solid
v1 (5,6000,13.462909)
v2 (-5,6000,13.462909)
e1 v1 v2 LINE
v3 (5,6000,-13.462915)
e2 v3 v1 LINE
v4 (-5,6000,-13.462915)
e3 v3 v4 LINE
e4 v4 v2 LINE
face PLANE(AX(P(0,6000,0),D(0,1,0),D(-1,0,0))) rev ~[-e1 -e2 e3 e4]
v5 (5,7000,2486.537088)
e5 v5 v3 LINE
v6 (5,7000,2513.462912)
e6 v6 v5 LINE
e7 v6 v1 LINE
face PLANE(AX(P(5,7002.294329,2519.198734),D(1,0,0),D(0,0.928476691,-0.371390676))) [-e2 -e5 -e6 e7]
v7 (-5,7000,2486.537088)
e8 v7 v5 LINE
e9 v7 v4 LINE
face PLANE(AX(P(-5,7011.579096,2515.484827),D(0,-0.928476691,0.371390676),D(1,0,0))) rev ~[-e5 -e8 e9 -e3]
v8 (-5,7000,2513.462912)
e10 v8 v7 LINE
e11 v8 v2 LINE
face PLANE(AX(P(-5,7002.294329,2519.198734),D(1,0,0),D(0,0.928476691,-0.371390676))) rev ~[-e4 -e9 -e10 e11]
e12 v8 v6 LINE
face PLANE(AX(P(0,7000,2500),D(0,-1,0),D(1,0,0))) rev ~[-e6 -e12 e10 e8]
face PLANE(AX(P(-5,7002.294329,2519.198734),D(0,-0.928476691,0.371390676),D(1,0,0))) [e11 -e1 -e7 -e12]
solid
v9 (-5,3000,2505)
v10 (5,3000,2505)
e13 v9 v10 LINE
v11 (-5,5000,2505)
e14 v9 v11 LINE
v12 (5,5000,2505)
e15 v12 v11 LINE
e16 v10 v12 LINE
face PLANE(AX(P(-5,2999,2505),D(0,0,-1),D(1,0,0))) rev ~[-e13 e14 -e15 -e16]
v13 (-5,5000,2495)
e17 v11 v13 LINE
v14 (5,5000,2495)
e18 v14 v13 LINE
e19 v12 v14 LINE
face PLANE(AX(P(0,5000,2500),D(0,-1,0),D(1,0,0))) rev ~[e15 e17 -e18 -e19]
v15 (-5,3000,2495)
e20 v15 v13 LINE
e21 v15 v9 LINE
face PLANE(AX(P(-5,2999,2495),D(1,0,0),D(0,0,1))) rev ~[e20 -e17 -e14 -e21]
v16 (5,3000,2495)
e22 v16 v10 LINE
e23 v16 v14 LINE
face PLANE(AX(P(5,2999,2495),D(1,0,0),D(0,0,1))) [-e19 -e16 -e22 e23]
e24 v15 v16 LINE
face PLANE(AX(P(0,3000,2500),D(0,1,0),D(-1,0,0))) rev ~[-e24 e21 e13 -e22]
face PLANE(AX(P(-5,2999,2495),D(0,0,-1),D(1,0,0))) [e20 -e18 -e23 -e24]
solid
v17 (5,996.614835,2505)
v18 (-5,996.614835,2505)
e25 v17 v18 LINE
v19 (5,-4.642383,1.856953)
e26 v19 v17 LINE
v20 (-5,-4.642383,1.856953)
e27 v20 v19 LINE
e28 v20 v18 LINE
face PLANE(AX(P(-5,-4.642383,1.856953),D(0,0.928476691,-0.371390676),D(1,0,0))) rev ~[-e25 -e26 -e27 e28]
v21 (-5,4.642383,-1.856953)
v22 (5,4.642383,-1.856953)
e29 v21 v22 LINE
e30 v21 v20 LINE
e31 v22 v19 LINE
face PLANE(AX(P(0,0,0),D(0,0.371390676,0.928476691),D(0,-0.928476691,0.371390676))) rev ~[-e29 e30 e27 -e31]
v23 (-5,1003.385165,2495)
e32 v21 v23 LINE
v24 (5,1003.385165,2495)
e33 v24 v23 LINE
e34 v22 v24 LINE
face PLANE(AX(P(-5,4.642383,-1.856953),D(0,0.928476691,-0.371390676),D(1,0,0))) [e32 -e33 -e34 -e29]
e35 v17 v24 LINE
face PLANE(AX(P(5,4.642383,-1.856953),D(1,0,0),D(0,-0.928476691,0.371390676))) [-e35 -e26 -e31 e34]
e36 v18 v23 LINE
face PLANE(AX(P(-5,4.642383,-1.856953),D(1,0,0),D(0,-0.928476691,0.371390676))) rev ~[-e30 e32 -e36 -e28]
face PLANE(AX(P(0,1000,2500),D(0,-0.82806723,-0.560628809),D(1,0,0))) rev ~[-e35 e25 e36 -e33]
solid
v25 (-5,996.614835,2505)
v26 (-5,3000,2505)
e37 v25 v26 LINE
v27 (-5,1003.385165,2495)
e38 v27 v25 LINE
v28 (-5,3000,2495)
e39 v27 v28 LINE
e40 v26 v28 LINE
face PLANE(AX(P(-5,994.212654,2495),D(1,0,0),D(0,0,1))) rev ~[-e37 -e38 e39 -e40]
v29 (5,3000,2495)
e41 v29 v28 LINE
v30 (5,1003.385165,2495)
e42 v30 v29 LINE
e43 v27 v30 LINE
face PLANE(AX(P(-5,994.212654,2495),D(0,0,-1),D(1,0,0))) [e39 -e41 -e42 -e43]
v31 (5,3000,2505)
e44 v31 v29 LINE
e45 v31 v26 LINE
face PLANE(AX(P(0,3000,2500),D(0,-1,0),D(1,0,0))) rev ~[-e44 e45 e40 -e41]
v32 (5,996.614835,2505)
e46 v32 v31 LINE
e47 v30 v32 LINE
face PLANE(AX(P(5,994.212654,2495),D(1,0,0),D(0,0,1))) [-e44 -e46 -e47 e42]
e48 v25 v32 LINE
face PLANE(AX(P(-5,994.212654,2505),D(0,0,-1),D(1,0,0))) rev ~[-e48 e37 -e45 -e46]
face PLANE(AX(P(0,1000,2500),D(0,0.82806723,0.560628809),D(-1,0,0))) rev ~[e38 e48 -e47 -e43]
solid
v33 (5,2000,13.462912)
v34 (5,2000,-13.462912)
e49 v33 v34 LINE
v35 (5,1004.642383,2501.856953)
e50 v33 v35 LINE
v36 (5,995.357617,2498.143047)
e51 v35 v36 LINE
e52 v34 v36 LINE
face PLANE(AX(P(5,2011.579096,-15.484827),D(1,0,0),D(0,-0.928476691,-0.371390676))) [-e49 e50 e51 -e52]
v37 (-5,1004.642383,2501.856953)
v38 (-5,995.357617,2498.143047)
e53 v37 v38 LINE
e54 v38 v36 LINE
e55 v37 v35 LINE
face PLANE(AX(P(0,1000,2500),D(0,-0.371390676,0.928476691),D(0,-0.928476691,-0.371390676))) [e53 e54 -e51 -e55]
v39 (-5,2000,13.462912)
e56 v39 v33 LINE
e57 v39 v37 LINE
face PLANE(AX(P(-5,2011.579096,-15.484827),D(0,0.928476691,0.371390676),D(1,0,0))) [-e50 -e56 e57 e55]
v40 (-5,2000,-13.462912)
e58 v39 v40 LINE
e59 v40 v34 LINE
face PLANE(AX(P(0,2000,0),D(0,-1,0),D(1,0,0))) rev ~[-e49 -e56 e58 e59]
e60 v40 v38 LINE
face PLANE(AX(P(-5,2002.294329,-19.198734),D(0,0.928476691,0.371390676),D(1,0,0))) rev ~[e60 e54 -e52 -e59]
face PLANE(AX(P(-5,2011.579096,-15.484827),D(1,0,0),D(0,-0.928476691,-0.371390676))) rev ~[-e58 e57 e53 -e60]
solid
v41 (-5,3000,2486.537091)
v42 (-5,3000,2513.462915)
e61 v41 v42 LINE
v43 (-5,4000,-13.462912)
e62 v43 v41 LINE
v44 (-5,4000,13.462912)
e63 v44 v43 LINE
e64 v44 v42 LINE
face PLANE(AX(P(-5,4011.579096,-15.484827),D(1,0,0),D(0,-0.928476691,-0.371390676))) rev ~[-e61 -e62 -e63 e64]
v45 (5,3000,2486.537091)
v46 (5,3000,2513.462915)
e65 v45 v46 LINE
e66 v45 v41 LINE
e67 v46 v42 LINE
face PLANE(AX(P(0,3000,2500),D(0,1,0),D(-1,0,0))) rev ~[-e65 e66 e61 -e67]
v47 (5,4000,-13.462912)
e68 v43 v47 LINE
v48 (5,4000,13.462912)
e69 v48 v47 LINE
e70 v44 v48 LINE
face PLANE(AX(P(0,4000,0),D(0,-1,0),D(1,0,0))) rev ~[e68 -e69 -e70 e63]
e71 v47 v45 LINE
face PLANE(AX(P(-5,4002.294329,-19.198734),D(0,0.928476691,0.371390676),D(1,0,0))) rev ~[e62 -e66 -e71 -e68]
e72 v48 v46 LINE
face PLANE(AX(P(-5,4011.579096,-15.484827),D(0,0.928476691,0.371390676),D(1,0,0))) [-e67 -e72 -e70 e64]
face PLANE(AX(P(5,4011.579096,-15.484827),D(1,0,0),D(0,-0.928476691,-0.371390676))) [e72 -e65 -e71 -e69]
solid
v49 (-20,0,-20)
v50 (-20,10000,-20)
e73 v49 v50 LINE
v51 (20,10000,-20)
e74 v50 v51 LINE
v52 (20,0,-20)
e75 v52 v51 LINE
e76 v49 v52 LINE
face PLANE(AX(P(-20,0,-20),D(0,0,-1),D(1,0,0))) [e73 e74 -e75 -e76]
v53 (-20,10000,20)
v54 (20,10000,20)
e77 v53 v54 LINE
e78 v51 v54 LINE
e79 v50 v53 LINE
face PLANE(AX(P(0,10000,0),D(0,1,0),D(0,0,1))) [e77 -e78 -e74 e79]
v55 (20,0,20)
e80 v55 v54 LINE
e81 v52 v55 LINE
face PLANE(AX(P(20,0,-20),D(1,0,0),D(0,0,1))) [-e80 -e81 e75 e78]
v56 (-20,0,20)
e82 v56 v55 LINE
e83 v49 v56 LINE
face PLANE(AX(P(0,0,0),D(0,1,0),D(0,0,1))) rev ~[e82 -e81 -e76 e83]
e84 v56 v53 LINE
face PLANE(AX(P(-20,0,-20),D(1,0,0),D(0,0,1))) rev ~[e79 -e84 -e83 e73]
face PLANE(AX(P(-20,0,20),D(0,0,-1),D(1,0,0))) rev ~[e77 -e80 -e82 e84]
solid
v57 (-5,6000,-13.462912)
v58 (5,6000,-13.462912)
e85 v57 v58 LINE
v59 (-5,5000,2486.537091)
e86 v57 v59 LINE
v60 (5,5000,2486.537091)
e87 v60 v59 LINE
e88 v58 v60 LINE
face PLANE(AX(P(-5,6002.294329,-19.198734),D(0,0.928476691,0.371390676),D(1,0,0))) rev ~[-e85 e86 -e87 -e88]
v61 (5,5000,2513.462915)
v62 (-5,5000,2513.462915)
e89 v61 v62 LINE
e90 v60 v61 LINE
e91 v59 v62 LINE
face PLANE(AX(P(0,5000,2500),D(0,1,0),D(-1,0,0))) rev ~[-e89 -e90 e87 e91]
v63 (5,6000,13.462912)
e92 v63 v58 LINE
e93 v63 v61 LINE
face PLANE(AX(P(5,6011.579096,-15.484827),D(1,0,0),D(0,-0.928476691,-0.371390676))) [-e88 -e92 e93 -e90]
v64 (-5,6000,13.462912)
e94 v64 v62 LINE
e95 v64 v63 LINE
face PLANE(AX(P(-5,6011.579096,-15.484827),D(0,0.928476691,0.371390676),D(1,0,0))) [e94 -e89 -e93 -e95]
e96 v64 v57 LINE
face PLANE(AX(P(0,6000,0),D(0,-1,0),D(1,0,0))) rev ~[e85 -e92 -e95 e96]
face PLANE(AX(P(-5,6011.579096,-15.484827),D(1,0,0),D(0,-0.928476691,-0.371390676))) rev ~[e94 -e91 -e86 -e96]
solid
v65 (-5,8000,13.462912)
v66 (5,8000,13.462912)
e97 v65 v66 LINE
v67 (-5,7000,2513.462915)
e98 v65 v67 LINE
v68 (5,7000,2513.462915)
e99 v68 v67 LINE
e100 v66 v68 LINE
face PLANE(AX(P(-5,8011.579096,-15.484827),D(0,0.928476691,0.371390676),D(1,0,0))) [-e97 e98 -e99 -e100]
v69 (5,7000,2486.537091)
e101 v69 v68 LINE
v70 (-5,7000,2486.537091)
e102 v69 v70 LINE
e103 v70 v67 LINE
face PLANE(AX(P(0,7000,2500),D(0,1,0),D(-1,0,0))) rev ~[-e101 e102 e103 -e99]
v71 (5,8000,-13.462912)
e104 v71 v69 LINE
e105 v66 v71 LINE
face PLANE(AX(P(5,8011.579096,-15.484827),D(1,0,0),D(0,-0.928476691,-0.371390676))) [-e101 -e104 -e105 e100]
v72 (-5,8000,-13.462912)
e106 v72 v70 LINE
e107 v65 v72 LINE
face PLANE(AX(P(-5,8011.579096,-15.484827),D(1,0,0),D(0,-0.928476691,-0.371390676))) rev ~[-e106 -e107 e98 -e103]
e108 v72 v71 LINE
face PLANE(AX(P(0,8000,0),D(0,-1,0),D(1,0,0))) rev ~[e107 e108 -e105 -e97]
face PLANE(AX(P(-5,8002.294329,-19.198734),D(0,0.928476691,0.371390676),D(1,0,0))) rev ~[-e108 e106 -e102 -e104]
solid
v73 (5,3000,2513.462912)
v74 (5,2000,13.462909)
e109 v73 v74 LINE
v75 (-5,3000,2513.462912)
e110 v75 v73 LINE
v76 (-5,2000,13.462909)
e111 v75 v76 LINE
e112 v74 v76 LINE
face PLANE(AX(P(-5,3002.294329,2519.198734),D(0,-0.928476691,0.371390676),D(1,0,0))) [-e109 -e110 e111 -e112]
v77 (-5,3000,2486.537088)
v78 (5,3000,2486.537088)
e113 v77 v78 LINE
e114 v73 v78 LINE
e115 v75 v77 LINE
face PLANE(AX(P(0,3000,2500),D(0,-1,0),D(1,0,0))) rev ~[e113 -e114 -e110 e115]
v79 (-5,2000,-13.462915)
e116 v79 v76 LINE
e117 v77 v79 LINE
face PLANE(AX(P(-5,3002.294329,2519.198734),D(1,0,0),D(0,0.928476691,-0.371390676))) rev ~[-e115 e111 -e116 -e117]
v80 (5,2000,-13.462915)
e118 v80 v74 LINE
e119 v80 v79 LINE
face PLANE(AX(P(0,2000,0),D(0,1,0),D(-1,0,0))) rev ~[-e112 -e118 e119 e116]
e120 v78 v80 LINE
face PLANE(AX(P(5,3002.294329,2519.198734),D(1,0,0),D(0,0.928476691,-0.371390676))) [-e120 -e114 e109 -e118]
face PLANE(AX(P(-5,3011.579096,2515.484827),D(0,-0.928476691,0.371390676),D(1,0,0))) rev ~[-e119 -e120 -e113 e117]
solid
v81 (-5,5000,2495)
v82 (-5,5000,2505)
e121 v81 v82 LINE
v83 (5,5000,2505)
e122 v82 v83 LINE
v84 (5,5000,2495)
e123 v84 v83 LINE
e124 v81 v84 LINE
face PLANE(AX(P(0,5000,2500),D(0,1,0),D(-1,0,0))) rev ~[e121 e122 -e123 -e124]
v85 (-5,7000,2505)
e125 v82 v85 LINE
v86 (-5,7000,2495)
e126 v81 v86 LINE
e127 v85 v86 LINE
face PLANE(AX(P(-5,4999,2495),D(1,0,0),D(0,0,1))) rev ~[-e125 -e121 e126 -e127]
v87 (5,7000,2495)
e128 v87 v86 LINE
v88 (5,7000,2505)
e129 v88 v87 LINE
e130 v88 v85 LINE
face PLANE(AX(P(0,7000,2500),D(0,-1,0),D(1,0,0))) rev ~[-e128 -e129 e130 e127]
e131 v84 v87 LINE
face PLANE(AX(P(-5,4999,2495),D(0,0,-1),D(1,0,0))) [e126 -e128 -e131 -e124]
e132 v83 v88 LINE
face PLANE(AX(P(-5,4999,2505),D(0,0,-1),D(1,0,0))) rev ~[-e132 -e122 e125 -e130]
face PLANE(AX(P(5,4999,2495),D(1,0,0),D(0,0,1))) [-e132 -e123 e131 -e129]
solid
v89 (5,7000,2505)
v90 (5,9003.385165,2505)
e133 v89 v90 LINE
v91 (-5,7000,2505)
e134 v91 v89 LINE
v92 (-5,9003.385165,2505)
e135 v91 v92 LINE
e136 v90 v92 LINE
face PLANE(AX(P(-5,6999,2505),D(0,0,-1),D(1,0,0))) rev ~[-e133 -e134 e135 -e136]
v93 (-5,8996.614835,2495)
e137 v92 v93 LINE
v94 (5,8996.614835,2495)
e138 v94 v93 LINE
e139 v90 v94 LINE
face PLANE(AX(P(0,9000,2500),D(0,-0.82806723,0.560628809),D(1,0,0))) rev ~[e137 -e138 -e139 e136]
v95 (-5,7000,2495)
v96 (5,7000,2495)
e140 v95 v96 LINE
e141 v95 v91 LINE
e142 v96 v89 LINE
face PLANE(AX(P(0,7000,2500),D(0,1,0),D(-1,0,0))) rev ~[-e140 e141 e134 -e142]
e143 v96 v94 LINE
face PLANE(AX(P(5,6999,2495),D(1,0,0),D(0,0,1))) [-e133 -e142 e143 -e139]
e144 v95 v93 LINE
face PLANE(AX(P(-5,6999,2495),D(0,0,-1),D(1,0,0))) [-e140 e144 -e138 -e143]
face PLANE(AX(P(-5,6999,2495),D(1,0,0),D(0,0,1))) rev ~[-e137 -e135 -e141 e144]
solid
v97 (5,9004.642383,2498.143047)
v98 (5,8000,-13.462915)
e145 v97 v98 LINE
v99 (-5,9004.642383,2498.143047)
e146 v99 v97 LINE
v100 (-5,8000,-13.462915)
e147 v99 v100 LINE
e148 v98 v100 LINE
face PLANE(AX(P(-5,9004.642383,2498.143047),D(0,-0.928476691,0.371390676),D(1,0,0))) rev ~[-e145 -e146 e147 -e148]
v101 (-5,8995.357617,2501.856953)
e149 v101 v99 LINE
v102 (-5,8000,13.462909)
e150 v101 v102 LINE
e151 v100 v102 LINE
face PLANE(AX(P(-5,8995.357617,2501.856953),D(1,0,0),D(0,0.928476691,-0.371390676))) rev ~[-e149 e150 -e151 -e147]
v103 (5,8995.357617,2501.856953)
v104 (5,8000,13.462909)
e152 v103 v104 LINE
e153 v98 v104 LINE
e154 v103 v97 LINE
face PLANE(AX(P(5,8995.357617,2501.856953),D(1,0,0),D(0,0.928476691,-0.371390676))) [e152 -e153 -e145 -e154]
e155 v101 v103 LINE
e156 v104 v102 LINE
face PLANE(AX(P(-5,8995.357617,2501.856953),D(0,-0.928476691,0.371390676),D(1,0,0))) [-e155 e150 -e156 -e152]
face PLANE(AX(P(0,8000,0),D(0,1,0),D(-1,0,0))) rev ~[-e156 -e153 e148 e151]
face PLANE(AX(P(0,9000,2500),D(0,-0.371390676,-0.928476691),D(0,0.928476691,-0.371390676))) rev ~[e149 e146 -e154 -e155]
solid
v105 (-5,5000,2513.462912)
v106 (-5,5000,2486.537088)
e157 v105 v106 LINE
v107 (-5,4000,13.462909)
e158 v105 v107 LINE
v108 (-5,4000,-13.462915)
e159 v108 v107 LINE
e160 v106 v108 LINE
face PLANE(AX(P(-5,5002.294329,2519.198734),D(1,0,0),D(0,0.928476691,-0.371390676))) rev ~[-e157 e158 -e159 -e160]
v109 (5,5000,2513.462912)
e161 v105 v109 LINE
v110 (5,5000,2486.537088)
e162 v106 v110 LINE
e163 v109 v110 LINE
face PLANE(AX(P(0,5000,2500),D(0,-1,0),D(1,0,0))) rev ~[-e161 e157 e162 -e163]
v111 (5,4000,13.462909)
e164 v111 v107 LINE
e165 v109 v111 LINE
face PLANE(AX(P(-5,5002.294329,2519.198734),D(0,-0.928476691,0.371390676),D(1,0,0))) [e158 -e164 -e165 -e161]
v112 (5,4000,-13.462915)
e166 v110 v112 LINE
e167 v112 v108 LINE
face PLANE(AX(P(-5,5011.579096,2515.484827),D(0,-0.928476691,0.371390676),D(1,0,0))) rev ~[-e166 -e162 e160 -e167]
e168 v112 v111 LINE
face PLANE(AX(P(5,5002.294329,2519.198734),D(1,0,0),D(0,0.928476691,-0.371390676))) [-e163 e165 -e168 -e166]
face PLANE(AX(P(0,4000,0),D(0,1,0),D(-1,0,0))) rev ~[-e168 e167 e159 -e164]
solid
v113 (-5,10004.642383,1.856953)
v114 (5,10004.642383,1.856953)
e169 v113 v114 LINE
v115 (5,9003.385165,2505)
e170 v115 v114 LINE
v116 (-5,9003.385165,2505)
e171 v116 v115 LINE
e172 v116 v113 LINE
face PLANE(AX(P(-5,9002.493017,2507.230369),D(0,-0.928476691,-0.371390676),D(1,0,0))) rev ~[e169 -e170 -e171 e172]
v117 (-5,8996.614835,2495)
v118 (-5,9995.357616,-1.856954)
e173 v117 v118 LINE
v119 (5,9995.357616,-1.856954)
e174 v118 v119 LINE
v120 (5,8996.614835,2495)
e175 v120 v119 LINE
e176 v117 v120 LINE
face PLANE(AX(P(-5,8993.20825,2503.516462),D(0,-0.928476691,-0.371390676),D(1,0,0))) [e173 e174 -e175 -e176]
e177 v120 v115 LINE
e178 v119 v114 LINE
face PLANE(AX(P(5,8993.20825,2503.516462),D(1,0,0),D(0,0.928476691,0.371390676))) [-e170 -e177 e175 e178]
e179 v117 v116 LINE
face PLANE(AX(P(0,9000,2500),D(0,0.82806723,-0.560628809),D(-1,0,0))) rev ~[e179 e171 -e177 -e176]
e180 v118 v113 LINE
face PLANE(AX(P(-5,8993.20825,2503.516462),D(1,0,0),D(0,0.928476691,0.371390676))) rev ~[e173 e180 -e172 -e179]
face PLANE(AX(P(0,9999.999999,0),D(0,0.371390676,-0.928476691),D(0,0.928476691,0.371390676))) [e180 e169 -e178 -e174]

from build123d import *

# Parameters (mm, degrees)
SKETCH150_W                    = 40
SKETCH150_H                    = 40
HW5_SMALLBEAM40_1_DEPTH        = 10000
SKETCH144_W                    = 10
SKETCH144_H                    = 10
HW5_SMALLBEAM10_1_DEPTH        = 2698.369749548
SKETCH144_ON_SEGMENT_2_W       = 10
SKETCH144_ON_SEGMENT_2_H       = 10
HW5_SMALLBEAM10_1_2_DEPTH      = 2006.787345981
SKETCH144_ON_SEGMENT_3_W       = 10
SKETCH144_ON_SEGMENT_3_H       = 10
HW5_SMALLBEAM10_1_3_DEPTH      = 2002
SKETCH144_ON_SEGMENT_4_W       = 10
SKETCH144_ON_SEGMENT_4_H       = 10
HW5_SMALLBEAM10_1_4_DEPTH      = 2002
SKETCH144_ON_SEGMENT_5_W       = 10
SKETCH144_ON_SEGMENT_5_H       = 10
HW5_SMALLBEAM10_1_5_DEPTH      = 2006.787345981
SKETCH144_ON_SEGMENT_6_W       = 10
SKETCH144_ON_SEGMENT_6_H       = 10
HW5_SMALLBEAM10_1_6_DEPTH      = 2698.369749548
SKETCH147_ON_SEGMENT_1_W       = 10
SKETCH147_ON_SEGMENT_1_H       = 10
HW5_SMALLBEAM10_2_DEPTH        = 2711.260073097
SKETCH147_ON_SEGMENT_2_W       = 10
SKETCH147_ON_SEGMENT_2_H       = 10
HW5_SMALLBEAM10_2_2_DEPTH      = 2729.937742627
SKETCH147_ON_SEGMENT_3_W       = 10
SKETCH147_ON_SEGMENT_3_H       = 10
HW5_SMALLBEAM10_2_3_DEPTH      = 2729.937742627
SKETCH147_ON_SEGMENT_4_W       = 10
SKETCH147_ON_SEGMENT_4_H       = 10
HW5_SMALLBEAM10_2_4_DEPTH      = 2729.937742627
SKETCH147_ON_SEGMENT_5_W       = 10
SKETCH147_ON_SEGMENT_5_H       = 10
HW5_SMALLBEAM10_2_5_DEPTH      = 2729.937742627
SKETCH147_ON_SEGMENT_6_W       = 10
SKETCH147_ON_SEGMENT_6_H       = 10
HW5_SMALLBEAM10_2_6_DEPTH      = 2729.937742627
SKETCH147_ON_SEGMENT_7_W       = 10
SKETCH147_ON_SEGMENT_7_H       = 10
HW5_SMALLBEAM10_2_7_DEPTH      = 2729.937742627
HW5_SMALLBEAM10_2_8_DEPTH      = 2692.582403567
HW5_SMALLBEAM10_2_8_DEPTH_BACK = 18.67766953
SKETCH147_W                    = 10
SKETCH147_H                    = 10


with BuildPart() as part:
    # Sketch150 → Hw5 SMALLBEAM40(1) (new body)
    with BuildSketch(Plane.ZX):
        Rectangle(SKETCH150_W, SKETCH150_H)
    extrude(amount=HW5_SMALLBEAM40_1_DEPTH)


with BuildPart() as body_2:
    # Sketch144 → Hw5 SMALLBEAM10(1) (new body)
    with BuildSketch(Plane(origin=(0, 0, 0), x_dir=(0, -0.9284766908852594, 0.3713906763541039), z_dir=(0, 0.3713906763541039, 0.9284766908852594))):
        Rectangle(SKETCH144_W, SKETCH144_H)
    extrude(amount=HW5_SMALLBEAM10_1_DEPTH)

    # Hw5 SMALLBEAM10(1) mitre 1
    split(bisect_by=Plane(origin=(0, 1000, 2500), x_dir=(1, 0, 0), z_dir=(0, -0.82806723, -0.560628809)), keep=Keep.TOP)


with BuildPart() as body_3:
    # Sketch144 on segment 2 (carried to segment 2) → Hw5 SMALLBEAM10_1 2 (new body)
    with BuildSketch(Plane(origin=(0, 994.212654019, 2500), x_dir=(0, 0, 1), z_dir=(0, 1, 0))):
        Rectangle(SKETCH144_ON_SEGMENT_2_W, SKETCH144_ON_SEGMENT_2_H)
    extrude(amount=HW5_SMALLBEAM10_1_2_DEPTH)

    # Hw5 SMALLBEAM10_1 2 mitre 1
    split(bisect_by=Plane(origin=(0, 3000, 2500), x_dir=(1, 0, 0), z_dir=(0, -1, 0)), keep=Keep.TOP)

    # Hw5 SMALLBEAM10_1 2 mitre 2
    split(bisect_by=Plane(origin=(0, 1000, 2500), x_dir=(-1, 0, 0), z_dir=(0, 0.82806723, 0.560628809)), keep=Keep.TOP)


with BuildPart() as body_4:
    # Sketch144 on segment 3 (carried to segment 3) → Hw5 SMALLBEAM10_1 3 (new body)
    with BuildSketch(Plane(origin=(0, 2999, 2500), x_dir=(0, 0, 1), z_dir=(0, 1, 0))):
        Rectangle(SKETCH144_ON_SEGMENT_3_W, SKETCH144_ON_SEGMENT_3_H)
    extrude(amount=HW5_SMALLBEAM10_1_3_DEPTH)

    # Hw5 SMALLBEAM10_1 3 mitre 1
    split(bisect_by=Plane(origin=(0, 5000, 2500), x_dir=(1, 0, 0), z_dir=(0, -1, 0)), keep=Keep.TOP)

    # Hw5 SMALLBEAM10_1 3 mitre 2
    split(bisect_by=Plane(origin=(0, 3000, 2500), x_dir=(-1, 0, 0), z_dir=(0, 1, 0)), keep=Keep.TOP)


with BuildPart() as body_5:
    # Sketch144 on segment 4 (carried to segment 4) → Hw5 SMALLBEAM10_1 4 (new body)
    with BuildSketch(Plane(origin=(0, 4999, 2500), x_dir=(0, 0, 1), z_dir=(0, 1, 0))):
        Rectangle(SKETCH144_ON_SEGMENT_4_W, SKETCH144_ON_SEGMENT_4_H)
    extrude(amount=HW5_SMALLBEAM10_1_4_DEPTH)

    # Hw5 SMALLBEAM10_1 4 mitre 1
    split(bisect_by=Plane(origin=(0, 7000, 2500), x_dir=(1, 0, 0), z_dir=(0, -1, 0)), keep=Keep.TOP)

    # Hw5 SMALLBEAM10_1 4 mitre 2
    split(bisect_by=Plane(origin=(0, 5000, 2500), x_dir=(-1, 0, 0), z_dir=(0, 1, 0)), keep=Keep.TOP)


with BuildPart() as body_6:
    # Sketch144 on segment 5 (carried to segment 5) → Hw5 SMALLBEAM10_1 5 (new body)
    with BuildSketch(Plane(origin=(0, 6999, 2500), x_dir=(0, 0, 1), z_dir=(0, 1, 0))):
        Rectangle(SKETCH144_ON_SEGMENT_5_W, SKETCH144_ON_SEGMENT_5_H)
    extrude(amount=HW5_SMALLBEAM10_1_5_DEPTH)

    # Hw5 SMALLBEAM10_1 5 mitre 1
    split(bisect_by=Plane(origin=(0, 9000, 2500), x_dir=(1, 0, 0), z_dir=(0, -0.82806723, 0.560628809)), keep=Keep.TOP)

    # Hw5 SMALLBEAM10_1 5 mitre 2
    split(bisect_by=Plane(origin=(0, 7000, 2500), x_dir=(-1, 0, 0), z_dir=(0, 1, 0)), keep=Keep.TOP)


with BuildPart() as body_7:
    # Sketch144 on segment 6 (carried to segment 6) → Hw5 SMALLBEAM10_1 6 (new body)
    with BuildSketch(Plane(origin=(0, 8997.850633662, 2505.373415846), x_dir=(0, 0.928476691, 0.371390676), z_dir=(0, 0.371390676, -0.928476691))):
        Rectangle(SKETCH144_ON_SEGMENT_6_W, SKETCH144_ON_SEGMENT_6_H)
    extrude(amount=HW5_SMALLBEAM10_1_6_DEPTH)

    # Hw5 SMALLBEAM10_1 6 mitre 1
    split(bisect_by=Plane(origin=(0, 9000, 2500), x_dir=(-1, 0, 0), z_dir=(0, 0.82806723, -0.560628809)), keep=Keep.TOP)


with BuildPart() as body_8:
    # Sketch147 on segment 1 (carried to segment 1) → Hw5 SMALLBEAM10(2) (new body)
    with BuildSketch(Plane(origin=(0, 9000, 2500), x_dir=(0, 0.928476691, -0.371390676), z_dir=(0, -0.371390676, -0.928476691))):
        Rectangle(SKETCH147_ON_SEGMENT_1_W, SKETCH147_ON_SEGMENT_1_H)
    extrude(amount=HW5_SMALLBEAM10_2_DEPTH)

    # Hw5 SMALLBEAM10(2) mitre 1
    split(bisect_by=Plane(origin=(0, 8000, 0), x_dir=(-1, 0, 0), z_dir=(0, 1, 0)), keep=Keep.TOP)


with BuildPart() as body_9:
    # Sketch147 on segment 2 (carried to segment 2) → Hw5 SMALLBEAM10_2 2 (new body)
    with BuildSketch(Plane(origin=(0, 8006.936712319, -17.341780798), x_dir=(0, -0.928476691, -0.371390676), z_dir=(0, -0.371390676, 0.928476691))):
        Rectangle(SKETCH147_ON_SEGMENT_2_W, SKETCH147_ON_SEGMENT_2_H)
    extrude(amount=HW5_SMALLBEAM10_2_2_DEPTH)

    # Hw5 SMALLBEAM10_2 2 mitre 1
    split(bisect_by=Plane.XZ.offset(-8000), keep=Keep.TOP)

    # Hw5 SMALLBEAM10_2 2 mitre 2
    split(bisect_by=Plane(origin=(0, 7000, 2500), x_dir=(-1, 0, 0), z_dir=(0, 1, 0)), keep=Keep.TOP)


with BuildPart() as body_10:
    # Sketch147 on segment 3 (carried to segment 3) → Hw5 SMALLBEAM10_2 3 (new body)
    with BuildSketch(Plane(origin=(0, 7006.936712319, 2517.341780798), x_dir=(0, 0.928476691, -0.371390676), z_dir=(0, -0.371390676, -0.928476691))):
        Rectangle(SKETCH147_ON_SEGMENT_3_W, SKETCH147_ON_SEGMENT_3_H)
    extrude(amount=HW5_SMALLBEAM10_2_3_DEPTH)

    # Hw5 SMALLBEAM10_2 3 mitre 1
    split(bisect_by=Plane(origin=(0, 7000, 2500), x_dir=(1, 0, 0), z_dir=(0, -1, 0)), keep=Keep.TOP)

    # Hw5 SMALLBEAM10_2 3 mitre 2
    split(bisect_by=Plane(origin=(0, 6000, 0), x_dir=(-1, 0, 0), z_dir=(0, 1, 0)), keep=Keep.TOP)


with BuildPart() as body_11:
    # Sketch147 on segment 4 (carried to segment 4) → Hw5 SMALLBEAM10_2 4 (new body)
    with BuildSketch(Plane(origin=(0, 6006.936712319, -17.341780798), x_dir=(0, -0.928476691, -0.371390676), z_dir=(0, -0.371390676, 0.928476691))):
        Rectangle(SKETCH147_ON_SEGMENT_4_W, SKETCH147_ON_SEGMENT_4_H)
    extrude(amount=HW5_SMALLBEAM10_2_4_DEPTH)

    # Hw5 SMALLBEAM10_2 4 mitre 1
    split(bisect_by=Plane.XZ.offset(-6000), keep=Keep.TOP)

    # Hw5 SMALLBEAM10_2 4 mitre 2
    split(bisect_by=Plane(origin=(0, 5000, 2500), x_dir=(-1, 0, 0), z_dir=(0, 1, 0)), keep=Keep.TOP)


with BuildPart() as body_12:
    # Sketch147 on segment 5 (carried to segment 5) → Hw5 SMALLBEAM10_2 5 (new body)
    with BuildSketch(Plane(origin=(0, 5006.936712319, 2517.341780798), x_dir=(0, 0.928476691, -0.371390676), z_dir=(0, -0.371390676, -0.928476691))):
        Rectangle(SKETCH147_ON_SEGMENT_5_W, SKETCH147_ON_SEGMENT_5_H)
    extrude(amount=HW5_SMALLBEAM10_2_5_DEPTH)

    # Hw5 SMALLBEAM10_2 5 mitre 1
    split(bisect_by=Plane(origin=(0, 5000, 2500), x_dir=(1, 0, 0), z_dir=(0, -1, 0)), keep=Keep.TOP)

    # Hw5 SMALLBEAM10_2 5 mitre 2
    split(bisect_by=Plane(origin=(0, 4000, 0), x_dir=(-1, 0, 0), z_dir=(0, 1, 0)), keep=Keep.TOP)


with BuildPart() as body_13:
    # Sketch147 on segment 6 (carried to segment 6) → Hw5 SMALLBEAM10_2 6 (new body)
    with BuildSketch(Plane(origin=(0, 4006.936712319, -17.341780798), x_dir=(0, -0.928476691, -0.371390676), z_dir=(0, -0.371390676, 0.928476691))):
        Rectangle(SKETCH147_ON_SEGMENT_6_W, SKETCH147_ON_SEGMENT_6_H)
    extrude(amount=HW5_SMALLBEAM10_2_6_DEPTH)

    # Hw5 SMALLBEAM10_2 6 mitre 1
    split(bisect_by=Plane.XZ.offset(-4000), keep=Keep.TOP)

    # Hw5 SMALLBEAM10_2 6 mitre 2
    split(bisect_by=Plane(origin=(0, 3000, 2500), x_dir=(-1, 0, 0), z_dir=(0, 1, 0)), keep=Keep.TOP)


with BuildPart() as body_14:
    # Sketch147 on segment 7 (carried to segment 7) → Hw5 SMALLBEAM10_2 7 (new body)
    with BuildSketch(Plane(origin=(0, 3006.936712319, 2517.341780798), x_dir=(0, 0.928476691, -0.371390676), z_dir=(0, -0.371390676, -0.928476691))):
        Rectangle(SKETCH147_ON_SEGMENT_7_W, SKETCH147_ON_SEGMENT_7_H)
    extrude(amount=HW5_SMALLBEAM10_2_7_DEPTH)

    # Hw5 SMALLBEAM10_2 7 mitre 1
    split(bisect_by=Plane(origin=(0, 3000, 2500), x_dir=(1, 0, 0), z_dir=(0, -1, 0)), keep=Keep.TOP)

    # Hw5 SMALLBEAM10_2 7 mitre 2
    split(bisect_by=Plane(origin=(0, 2000, 0), x_dir=(-1, 0, 0), z_dir=(0, 1, 0)), keep=Keep.TOP)


with BuildPart() as body_15:
    # Sketch147 → Hw5 SMALLBEAM10_2 8 (new, two sides: drawn at the far end of the back side and taken through both)
    with BuildSketch(Plane(origin=(0, 2000, 0), x_dir=(0, -0.9284766908852595, -0.37139067635410344), z_dir=(0, -0.37139067635410344, 0.9284766908852595)).offset(-HW5_SMALLBEAM10_2_8_DEPTH_BACK)):
        Rectangle(SKETCH147_W, SKETCH147_H)
    extrude(amount=HW5_SMALLBEAM10_2_8_DEPTH + HW5_SMALLBEAM10_2_8_DEPTH_BACK)

    # Hw5 SMALLBEAM10_2 8 mitre 1
    split(bisect_by=Plane.XZ.offset(-2000), keep=Keep.TOP)


solid = Compound([part.part, body_2.part, body_3.part, body_4.part, body_5.part, body_6.part, body_7.part, body_8.part, body_9.part, body_10.part, body_11.part, body_12.part, body_13.part, body_14.part, body_15.part])
